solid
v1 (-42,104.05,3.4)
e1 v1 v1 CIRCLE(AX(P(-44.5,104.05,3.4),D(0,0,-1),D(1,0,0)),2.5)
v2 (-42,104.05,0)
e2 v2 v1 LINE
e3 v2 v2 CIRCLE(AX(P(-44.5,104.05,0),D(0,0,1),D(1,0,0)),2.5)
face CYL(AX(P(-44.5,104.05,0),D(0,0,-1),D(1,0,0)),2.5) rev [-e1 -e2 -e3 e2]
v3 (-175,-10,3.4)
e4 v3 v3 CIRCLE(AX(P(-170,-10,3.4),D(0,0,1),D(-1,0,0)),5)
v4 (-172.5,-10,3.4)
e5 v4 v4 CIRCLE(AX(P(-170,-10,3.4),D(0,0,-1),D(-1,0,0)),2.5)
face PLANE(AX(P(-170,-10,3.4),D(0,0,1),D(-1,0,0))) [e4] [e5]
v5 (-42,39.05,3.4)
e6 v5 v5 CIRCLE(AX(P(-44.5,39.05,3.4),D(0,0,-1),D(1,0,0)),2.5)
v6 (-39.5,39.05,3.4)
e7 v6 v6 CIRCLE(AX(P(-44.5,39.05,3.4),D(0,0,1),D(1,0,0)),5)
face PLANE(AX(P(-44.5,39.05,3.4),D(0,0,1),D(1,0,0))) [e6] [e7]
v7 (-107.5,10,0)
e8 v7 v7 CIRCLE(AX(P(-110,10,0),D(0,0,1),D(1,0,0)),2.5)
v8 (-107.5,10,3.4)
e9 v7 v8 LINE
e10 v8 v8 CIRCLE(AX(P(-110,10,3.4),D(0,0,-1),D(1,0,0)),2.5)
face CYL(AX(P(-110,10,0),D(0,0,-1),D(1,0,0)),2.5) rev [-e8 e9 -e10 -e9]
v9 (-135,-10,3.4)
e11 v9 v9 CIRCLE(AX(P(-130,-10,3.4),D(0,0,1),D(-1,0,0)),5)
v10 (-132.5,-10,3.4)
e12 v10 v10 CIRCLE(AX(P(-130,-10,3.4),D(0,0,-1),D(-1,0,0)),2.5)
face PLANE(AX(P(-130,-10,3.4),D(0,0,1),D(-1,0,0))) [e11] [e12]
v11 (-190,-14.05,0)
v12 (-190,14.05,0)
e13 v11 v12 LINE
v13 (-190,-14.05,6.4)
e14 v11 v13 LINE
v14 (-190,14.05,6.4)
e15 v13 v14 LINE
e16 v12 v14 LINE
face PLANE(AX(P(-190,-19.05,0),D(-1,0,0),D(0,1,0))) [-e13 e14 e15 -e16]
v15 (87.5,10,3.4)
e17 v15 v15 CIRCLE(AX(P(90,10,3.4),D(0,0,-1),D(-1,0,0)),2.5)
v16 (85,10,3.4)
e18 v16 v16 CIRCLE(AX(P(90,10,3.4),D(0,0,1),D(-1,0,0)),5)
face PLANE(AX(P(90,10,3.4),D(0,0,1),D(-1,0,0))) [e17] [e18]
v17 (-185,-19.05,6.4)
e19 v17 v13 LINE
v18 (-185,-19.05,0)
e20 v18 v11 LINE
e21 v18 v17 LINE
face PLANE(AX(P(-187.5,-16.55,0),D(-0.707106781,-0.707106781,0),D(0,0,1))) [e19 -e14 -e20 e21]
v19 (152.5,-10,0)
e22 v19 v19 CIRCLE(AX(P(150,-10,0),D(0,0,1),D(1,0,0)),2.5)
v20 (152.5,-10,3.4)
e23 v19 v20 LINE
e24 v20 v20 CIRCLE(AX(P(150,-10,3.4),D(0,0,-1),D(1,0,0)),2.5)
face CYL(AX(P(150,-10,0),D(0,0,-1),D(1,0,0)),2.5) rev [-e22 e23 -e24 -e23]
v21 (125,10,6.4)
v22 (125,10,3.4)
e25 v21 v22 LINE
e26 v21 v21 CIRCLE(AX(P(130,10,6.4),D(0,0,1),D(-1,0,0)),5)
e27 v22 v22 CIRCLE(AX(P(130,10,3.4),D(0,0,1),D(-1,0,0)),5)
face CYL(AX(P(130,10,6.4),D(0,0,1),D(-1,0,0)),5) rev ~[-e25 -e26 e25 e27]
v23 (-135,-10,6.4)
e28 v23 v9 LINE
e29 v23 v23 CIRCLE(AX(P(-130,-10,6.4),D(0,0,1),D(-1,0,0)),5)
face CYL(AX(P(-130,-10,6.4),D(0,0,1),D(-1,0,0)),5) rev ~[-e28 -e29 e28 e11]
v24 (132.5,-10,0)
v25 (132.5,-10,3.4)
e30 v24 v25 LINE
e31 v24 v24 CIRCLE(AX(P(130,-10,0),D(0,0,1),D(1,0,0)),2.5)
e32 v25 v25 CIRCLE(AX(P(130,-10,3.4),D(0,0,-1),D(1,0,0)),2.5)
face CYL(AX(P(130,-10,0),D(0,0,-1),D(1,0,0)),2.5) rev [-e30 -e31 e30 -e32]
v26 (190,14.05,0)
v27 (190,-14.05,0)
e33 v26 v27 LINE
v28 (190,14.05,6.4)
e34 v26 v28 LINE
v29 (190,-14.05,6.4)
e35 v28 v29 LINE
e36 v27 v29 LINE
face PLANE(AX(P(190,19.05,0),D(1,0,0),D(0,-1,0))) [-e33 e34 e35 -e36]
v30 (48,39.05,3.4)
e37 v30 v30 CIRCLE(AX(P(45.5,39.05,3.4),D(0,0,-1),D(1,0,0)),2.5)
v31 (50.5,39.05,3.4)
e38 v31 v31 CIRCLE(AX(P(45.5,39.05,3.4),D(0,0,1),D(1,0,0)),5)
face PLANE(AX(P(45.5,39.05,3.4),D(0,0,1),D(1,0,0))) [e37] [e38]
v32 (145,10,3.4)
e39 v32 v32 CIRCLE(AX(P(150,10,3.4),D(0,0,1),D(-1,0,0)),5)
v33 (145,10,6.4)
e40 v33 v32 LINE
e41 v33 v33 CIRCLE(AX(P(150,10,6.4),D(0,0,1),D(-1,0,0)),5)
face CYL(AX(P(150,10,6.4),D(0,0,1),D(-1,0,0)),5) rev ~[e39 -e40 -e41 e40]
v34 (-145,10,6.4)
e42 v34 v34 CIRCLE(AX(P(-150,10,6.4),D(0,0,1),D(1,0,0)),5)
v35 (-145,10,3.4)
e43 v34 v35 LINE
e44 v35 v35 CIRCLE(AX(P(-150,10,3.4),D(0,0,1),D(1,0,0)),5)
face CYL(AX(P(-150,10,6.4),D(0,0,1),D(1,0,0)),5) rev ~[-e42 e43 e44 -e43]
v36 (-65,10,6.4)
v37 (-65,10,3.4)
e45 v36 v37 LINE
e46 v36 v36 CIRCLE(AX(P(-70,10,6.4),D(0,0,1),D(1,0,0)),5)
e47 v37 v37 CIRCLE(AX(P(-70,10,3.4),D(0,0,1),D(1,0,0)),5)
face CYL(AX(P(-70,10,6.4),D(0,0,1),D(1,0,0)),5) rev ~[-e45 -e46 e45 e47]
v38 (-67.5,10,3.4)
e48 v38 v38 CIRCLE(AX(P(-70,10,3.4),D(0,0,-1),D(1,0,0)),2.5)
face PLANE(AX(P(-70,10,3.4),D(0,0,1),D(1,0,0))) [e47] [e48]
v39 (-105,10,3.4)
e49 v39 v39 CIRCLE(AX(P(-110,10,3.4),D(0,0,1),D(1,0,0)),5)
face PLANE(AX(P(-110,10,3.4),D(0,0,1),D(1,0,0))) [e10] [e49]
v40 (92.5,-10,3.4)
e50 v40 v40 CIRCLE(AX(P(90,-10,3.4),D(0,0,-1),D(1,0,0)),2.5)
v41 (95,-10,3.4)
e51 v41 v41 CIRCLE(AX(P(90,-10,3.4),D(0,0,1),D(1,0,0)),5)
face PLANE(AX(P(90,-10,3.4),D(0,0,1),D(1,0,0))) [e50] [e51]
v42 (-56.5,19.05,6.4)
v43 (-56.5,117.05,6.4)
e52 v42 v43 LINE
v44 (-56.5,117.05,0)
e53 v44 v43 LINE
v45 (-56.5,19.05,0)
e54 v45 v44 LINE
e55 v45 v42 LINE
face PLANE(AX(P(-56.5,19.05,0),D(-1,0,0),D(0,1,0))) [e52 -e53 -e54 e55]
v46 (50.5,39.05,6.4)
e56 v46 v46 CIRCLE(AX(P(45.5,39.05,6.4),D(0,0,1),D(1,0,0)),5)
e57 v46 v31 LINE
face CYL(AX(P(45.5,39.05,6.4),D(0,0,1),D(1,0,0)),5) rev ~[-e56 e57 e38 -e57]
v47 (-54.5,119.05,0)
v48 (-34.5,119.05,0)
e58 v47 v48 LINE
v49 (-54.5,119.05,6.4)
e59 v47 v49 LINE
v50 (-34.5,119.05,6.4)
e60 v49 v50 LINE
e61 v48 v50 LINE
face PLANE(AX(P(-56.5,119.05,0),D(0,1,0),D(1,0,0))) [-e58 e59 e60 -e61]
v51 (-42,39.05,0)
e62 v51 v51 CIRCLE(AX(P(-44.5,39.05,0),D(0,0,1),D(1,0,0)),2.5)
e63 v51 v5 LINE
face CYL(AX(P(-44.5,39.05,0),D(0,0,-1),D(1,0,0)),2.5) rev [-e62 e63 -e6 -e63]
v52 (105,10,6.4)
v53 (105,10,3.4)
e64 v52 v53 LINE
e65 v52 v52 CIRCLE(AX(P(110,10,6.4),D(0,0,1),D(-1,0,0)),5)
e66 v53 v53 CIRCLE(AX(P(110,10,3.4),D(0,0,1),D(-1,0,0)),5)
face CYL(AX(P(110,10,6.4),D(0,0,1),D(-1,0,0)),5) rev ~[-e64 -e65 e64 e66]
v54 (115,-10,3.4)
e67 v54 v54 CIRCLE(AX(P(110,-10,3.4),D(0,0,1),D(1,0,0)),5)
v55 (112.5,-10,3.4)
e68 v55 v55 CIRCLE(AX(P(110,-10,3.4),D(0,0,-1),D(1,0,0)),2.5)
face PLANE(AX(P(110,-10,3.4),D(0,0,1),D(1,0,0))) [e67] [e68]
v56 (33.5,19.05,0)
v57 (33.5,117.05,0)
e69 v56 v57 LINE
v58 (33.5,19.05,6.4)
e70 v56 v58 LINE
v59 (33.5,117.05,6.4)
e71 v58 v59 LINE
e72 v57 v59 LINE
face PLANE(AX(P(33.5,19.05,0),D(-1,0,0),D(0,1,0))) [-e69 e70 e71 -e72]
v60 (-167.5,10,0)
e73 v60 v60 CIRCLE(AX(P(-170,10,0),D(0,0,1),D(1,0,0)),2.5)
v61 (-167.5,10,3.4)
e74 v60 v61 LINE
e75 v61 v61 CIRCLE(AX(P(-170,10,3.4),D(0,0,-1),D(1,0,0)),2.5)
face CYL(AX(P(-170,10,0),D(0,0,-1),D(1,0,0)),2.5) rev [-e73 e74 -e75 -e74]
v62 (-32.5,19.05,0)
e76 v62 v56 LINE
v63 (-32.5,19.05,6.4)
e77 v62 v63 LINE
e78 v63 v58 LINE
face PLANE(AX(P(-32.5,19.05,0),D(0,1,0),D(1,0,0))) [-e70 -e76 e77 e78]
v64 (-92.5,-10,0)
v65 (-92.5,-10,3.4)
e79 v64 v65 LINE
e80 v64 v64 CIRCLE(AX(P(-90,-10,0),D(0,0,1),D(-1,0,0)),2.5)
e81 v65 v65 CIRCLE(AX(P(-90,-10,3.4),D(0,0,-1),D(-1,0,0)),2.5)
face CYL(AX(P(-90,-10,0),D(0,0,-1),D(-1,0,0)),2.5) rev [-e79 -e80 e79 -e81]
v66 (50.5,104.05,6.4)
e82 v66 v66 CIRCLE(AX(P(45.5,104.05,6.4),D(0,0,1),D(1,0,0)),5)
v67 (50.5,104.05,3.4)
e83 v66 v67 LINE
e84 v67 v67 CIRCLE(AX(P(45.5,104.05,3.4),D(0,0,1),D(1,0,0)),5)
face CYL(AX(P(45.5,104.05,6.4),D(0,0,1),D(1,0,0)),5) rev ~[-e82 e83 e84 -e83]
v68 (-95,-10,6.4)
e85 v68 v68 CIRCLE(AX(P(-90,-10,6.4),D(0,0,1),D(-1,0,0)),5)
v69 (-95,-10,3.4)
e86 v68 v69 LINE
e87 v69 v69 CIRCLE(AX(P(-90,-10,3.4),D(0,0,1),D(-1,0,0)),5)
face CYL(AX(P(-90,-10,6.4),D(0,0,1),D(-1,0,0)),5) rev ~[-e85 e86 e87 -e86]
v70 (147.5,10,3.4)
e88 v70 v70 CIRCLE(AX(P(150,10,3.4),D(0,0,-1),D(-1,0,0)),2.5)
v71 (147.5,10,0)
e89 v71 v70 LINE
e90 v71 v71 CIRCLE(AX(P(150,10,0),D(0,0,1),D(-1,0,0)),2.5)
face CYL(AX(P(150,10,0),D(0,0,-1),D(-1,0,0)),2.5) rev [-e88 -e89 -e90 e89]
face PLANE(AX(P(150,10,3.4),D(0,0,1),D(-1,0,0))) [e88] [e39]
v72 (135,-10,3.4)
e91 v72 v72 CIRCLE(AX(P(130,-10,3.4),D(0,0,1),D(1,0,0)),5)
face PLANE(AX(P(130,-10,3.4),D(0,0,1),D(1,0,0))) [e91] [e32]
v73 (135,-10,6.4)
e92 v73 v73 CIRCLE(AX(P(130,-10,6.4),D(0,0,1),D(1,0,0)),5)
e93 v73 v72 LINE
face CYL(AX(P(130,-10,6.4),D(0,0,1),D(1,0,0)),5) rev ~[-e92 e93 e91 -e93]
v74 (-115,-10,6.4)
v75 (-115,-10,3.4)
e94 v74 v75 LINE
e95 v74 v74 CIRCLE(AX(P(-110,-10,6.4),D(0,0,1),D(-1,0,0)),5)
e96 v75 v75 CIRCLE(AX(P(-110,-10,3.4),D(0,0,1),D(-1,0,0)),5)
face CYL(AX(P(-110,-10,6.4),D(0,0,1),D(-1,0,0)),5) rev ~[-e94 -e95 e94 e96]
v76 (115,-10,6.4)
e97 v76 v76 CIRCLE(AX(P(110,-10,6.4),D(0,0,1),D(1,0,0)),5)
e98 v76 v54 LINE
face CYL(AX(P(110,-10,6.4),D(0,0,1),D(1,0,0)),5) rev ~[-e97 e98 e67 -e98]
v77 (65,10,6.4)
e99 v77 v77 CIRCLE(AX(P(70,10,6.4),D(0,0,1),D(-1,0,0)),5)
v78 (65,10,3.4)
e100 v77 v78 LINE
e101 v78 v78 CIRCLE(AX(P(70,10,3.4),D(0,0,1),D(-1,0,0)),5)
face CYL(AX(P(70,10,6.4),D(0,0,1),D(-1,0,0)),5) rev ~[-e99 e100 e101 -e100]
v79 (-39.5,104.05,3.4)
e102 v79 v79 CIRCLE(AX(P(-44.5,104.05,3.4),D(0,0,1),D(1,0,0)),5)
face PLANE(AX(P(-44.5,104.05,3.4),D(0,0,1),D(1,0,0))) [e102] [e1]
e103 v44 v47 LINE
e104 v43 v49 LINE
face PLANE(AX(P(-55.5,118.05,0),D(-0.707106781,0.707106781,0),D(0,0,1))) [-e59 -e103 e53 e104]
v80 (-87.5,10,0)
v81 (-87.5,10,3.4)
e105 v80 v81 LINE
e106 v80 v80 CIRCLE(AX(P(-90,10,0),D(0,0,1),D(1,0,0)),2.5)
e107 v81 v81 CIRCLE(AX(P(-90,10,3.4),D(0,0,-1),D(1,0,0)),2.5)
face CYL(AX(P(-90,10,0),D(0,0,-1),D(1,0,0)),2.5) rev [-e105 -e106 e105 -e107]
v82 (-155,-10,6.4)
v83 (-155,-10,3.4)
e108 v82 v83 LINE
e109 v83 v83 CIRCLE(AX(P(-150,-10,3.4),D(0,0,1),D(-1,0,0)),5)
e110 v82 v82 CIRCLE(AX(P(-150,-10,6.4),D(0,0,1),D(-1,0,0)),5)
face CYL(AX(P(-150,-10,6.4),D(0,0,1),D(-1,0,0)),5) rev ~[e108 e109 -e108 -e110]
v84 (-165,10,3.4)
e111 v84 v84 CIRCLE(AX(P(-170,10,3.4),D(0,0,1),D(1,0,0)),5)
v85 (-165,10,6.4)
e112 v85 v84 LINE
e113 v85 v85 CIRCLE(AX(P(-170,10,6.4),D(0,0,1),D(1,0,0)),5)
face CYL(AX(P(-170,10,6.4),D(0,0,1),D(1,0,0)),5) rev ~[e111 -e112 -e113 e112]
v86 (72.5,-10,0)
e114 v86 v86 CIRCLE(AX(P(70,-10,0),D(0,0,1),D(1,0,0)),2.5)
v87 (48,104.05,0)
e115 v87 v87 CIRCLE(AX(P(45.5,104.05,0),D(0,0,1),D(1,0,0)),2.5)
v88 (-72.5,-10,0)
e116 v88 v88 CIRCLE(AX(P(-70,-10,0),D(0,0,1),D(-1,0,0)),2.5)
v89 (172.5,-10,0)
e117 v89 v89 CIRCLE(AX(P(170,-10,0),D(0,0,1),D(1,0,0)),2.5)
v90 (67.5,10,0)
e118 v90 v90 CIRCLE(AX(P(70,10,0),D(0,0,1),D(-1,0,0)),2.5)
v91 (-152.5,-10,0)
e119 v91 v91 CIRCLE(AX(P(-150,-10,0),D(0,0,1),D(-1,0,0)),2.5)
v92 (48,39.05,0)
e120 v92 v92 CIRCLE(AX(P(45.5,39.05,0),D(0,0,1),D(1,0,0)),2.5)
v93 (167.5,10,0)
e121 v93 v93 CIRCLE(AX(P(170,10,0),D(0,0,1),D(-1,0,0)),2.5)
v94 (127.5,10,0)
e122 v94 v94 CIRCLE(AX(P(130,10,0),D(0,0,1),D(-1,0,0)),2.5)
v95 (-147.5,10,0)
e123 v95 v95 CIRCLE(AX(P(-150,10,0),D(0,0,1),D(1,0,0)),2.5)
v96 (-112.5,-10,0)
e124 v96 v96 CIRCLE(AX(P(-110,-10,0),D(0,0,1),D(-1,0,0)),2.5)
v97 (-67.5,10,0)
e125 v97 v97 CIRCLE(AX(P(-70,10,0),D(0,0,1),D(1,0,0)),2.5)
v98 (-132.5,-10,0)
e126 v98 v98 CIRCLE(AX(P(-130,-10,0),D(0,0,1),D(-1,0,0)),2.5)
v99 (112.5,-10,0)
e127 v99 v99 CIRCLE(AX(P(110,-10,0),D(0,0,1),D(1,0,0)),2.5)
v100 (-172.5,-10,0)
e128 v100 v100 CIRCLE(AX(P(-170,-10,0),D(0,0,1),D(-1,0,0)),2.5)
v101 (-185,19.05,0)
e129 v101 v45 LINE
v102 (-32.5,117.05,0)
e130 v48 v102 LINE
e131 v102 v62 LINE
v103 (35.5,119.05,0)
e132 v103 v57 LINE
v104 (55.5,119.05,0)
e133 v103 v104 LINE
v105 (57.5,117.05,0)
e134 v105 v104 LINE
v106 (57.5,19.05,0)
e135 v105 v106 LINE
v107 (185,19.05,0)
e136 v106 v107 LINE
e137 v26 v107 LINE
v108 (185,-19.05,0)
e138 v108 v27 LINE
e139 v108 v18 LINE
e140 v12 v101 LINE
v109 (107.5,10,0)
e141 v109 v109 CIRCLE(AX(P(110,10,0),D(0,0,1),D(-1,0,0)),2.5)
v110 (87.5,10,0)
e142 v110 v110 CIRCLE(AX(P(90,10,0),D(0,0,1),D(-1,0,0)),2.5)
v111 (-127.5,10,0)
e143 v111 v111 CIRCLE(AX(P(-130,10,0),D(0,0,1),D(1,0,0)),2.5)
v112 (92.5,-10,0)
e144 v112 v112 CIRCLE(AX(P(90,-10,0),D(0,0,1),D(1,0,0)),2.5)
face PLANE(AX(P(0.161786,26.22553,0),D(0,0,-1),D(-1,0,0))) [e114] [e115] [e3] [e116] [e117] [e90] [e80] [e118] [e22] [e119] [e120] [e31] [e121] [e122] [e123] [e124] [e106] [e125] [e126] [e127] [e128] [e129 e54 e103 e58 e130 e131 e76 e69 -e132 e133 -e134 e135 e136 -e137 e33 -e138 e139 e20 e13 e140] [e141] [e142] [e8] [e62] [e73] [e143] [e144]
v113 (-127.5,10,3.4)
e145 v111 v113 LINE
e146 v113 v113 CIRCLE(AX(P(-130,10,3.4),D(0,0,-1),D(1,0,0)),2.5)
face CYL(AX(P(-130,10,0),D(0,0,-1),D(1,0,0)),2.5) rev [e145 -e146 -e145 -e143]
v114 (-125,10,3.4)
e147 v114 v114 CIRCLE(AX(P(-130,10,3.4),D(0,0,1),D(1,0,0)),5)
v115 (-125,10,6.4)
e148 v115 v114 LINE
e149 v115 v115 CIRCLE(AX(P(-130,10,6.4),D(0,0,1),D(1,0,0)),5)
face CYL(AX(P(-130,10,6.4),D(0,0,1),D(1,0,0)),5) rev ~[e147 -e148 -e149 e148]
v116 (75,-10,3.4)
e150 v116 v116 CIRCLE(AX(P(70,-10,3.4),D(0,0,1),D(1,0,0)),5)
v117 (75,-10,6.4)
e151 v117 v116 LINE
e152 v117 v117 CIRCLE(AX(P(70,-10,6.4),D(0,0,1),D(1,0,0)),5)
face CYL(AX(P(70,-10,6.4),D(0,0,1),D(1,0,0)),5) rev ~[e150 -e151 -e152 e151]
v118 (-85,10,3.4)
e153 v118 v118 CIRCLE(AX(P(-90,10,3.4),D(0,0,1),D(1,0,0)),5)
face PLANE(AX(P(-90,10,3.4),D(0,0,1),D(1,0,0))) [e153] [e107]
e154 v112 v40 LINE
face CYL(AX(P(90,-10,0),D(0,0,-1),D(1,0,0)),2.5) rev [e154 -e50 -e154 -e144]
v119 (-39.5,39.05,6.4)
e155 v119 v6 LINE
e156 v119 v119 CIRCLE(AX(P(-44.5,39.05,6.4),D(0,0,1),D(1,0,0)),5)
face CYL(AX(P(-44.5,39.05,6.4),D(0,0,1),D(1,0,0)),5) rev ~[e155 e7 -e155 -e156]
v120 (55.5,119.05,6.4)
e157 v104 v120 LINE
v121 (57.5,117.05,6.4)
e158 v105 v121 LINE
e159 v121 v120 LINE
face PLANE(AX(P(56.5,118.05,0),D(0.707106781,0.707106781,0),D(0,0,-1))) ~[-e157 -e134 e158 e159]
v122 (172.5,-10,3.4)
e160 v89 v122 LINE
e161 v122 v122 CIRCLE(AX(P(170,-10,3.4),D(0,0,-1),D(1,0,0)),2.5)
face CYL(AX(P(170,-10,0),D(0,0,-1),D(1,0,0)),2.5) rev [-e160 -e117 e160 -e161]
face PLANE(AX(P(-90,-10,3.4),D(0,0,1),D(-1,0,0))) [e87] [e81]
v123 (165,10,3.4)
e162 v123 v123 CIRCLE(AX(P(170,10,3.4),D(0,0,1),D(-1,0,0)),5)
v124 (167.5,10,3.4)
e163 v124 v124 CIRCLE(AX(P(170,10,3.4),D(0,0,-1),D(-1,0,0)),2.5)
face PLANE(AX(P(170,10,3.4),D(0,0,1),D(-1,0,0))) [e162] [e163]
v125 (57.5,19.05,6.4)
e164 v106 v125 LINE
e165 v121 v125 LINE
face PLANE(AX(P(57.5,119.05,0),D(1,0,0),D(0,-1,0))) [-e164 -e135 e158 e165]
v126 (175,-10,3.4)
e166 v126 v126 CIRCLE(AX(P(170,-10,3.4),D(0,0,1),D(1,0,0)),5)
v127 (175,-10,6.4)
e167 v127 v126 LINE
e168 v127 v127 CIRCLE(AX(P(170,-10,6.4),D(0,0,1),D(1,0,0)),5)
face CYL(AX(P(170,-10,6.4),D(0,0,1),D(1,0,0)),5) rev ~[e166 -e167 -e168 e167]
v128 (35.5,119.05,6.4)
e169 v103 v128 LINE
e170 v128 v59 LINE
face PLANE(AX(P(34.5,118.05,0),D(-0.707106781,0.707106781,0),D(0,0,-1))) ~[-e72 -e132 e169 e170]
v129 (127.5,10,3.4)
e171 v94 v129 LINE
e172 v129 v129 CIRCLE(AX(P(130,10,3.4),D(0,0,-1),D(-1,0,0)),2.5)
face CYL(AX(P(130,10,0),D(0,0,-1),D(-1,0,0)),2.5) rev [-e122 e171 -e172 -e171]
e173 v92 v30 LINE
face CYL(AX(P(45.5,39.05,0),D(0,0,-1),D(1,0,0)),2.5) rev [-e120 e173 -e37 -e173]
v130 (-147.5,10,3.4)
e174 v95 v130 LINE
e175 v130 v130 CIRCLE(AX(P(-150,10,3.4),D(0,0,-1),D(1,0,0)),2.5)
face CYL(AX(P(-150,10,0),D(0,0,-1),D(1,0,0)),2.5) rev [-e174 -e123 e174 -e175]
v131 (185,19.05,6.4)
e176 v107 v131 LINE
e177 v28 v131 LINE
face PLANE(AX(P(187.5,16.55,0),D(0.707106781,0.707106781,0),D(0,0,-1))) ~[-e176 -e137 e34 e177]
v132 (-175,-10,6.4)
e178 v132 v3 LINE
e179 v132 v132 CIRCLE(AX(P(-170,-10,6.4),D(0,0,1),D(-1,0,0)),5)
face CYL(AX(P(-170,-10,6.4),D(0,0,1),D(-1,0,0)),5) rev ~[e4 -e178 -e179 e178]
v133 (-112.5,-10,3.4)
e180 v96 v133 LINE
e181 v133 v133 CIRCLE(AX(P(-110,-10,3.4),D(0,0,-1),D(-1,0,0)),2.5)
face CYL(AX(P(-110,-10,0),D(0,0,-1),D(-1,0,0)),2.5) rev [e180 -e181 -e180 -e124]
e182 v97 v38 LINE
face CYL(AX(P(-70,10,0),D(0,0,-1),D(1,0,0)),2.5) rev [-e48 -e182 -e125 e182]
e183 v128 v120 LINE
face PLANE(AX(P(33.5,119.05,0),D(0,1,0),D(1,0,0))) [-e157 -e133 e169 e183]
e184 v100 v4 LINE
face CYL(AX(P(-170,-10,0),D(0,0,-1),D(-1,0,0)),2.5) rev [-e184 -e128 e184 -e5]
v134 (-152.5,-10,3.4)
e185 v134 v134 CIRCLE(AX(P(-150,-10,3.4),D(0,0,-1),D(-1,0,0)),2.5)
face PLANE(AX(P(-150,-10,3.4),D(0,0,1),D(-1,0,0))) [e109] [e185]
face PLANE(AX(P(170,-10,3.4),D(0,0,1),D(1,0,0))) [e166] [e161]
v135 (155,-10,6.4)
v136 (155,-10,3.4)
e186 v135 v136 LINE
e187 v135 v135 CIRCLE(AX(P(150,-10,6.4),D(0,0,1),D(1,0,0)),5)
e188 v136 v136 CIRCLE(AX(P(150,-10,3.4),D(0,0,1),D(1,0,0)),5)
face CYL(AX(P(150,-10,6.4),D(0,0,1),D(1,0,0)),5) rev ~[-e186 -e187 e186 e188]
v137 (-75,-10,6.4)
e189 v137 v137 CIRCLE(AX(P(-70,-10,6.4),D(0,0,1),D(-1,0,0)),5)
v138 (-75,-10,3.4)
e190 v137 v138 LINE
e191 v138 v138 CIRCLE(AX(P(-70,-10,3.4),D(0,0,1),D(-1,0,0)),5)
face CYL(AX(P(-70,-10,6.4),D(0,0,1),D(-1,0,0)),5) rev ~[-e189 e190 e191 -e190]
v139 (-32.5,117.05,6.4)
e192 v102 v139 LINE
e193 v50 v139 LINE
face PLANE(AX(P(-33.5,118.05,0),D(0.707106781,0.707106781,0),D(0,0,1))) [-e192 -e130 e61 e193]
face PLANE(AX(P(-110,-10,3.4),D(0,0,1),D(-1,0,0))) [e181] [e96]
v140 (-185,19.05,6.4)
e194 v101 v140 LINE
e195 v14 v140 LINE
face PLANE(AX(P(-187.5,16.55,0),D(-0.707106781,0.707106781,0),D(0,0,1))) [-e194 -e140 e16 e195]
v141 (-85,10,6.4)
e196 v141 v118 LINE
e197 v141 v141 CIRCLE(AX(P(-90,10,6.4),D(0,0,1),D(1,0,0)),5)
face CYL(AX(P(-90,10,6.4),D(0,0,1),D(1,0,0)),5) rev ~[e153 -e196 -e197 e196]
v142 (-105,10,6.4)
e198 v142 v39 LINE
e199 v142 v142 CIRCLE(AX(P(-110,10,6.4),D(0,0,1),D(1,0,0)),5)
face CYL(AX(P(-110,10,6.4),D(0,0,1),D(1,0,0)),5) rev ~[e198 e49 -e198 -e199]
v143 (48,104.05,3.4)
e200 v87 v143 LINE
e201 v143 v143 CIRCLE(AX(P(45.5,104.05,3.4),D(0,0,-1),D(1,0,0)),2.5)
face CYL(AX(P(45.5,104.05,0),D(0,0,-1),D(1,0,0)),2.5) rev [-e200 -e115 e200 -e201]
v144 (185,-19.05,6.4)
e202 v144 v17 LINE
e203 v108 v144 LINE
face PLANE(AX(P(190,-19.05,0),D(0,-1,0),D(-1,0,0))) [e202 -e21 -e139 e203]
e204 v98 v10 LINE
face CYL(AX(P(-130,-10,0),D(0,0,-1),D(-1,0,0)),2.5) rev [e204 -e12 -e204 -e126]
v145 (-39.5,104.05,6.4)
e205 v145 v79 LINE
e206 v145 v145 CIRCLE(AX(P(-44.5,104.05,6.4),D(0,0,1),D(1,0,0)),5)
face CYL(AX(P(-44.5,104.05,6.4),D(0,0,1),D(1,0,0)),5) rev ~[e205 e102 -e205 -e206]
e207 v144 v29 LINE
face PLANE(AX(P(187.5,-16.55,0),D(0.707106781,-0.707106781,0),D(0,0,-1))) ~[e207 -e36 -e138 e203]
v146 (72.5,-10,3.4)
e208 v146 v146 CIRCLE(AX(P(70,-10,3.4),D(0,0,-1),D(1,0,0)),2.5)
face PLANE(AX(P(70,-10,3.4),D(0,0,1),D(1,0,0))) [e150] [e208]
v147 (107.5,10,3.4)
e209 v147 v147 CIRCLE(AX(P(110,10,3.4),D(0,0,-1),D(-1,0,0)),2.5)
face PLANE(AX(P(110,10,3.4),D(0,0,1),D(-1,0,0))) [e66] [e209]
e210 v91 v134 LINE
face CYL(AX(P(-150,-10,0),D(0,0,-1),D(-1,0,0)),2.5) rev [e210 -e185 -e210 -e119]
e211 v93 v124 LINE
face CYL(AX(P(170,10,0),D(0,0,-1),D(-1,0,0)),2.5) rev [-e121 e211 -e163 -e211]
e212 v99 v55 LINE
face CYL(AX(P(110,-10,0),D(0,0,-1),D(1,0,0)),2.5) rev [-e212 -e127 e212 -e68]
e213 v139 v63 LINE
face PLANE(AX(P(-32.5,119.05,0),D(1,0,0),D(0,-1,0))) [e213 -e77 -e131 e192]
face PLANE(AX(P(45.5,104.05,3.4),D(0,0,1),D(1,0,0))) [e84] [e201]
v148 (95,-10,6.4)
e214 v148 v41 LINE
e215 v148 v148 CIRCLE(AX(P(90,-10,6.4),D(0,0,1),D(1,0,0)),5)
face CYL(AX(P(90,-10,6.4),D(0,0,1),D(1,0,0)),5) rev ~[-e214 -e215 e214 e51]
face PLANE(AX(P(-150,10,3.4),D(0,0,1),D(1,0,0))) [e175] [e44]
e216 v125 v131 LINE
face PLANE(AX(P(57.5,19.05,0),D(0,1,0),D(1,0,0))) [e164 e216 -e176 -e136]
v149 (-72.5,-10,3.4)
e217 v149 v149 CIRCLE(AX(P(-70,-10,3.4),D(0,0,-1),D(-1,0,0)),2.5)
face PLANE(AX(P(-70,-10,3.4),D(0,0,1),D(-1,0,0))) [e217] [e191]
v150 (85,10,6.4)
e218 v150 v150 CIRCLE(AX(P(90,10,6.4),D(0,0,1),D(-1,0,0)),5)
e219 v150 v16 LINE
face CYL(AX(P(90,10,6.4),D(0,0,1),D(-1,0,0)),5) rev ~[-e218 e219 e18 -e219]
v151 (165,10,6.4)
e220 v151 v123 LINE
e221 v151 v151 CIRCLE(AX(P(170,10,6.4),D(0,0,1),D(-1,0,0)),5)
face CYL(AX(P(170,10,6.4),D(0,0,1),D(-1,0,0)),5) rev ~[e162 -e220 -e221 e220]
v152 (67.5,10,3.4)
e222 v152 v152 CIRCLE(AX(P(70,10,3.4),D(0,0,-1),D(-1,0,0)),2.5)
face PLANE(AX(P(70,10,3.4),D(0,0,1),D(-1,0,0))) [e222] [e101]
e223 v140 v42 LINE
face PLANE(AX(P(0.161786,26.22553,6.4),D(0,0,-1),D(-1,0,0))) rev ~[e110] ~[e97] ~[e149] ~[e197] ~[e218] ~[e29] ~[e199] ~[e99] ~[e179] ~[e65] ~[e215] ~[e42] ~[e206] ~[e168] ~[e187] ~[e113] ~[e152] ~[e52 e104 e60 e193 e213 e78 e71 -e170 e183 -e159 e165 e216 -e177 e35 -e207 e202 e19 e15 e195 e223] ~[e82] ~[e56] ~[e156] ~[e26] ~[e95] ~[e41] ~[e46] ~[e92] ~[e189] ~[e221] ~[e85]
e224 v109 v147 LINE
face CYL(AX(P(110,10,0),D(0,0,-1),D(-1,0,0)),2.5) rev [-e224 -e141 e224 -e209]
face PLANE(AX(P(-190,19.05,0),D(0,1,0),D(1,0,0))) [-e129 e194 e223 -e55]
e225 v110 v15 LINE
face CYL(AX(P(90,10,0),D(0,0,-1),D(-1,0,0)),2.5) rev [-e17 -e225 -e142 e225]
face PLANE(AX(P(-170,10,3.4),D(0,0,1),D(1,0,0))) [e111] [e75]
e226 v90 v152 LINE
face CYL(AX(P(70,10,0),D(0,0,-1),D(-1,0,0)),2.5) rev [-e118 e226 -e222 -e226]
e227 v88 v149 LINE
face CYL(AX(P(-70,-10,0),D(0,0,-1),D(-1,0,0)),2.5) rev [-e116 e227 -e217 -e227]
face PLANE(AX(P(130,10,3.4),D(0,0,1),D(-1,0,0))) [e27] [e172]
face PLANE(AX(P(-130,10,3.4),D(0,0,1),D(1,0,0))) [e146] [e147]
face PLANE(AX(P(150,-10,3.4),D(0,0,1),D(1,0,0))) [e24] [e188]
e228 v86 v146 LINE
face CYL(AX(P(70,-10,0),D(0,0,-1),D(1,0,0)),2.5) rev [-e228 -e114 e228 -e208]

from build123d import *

# Parameters (mm, degrees)
SKETCH1_R           = 2.5
BOSS_EXTRUDE1_DEPTH = 6.4
SKETCH2_R           = 5
CUT_EXTRUDE1_DEPTH  = 3
CHAMFER1_SIZE       = 5
CHAMFER2_SIZE       = 2


with BuildPart() as part:
    # Sketch1 → Boss-Extrude1 (new body)
    with BuildSketch(Plane.XY):
        Polygon((190, -19.05), (-190, -19.05), (-190, 19.05), (-56.5, 19.05), (-56.5, 119.05), (-32.5, 119.05), (-32.5, 19.05), (33.5, 19.05), (33.5, 119.05), (57.5, 119.05), (57.5, 19.05), (190, 19.05), align=None)
        with Locations((-70, 10)):
            Circle(SKETCH1_R, mode=Mode.SUBTRACT)
        with Locations((-90, 10)):
            Circle(SKETCH1_R, mode=Mode.SUBTRACT)
        with Locations((-110, 10)):
            Circle(SKETCH1_R, mode=Mode.SUBTRACT)
        with Locations((-130, 10)):
            Circle(SKETCH1_R, mode=Mode.SUBTRACT)
        with Locations((-150, 10)):
            Circle(SKETCH1_R, mode=Mode.SUBTRACT)
        with Locations((-170, 10)):
            Circle(SKETCH1_R, mode=Mode.SUBTRACT)
        with Locations(Location((-70, -10, 0), (0, 0, 180))):
            Circle(SKETCH1_R, mode=Mode.SUBTRACT)
        with Locations(Location((-90, -10, 0), (0, 0, 180))):
            Circle(SKETCH1_R, mode=Mode.SUBTRACT)
        with Locations(Location((-110, -10, 0), (0, 0, 180))):
            Circle(SKETCH1_R, mode=Mode.SUBTRACT)
        with Locations(Location((-130, -10, 0), (0, 0, 180))):
            Circle(SKETCH1_R, mode=Mode.SUBTRACT)
        with Locations(Location((-150, -10, 0), (0, 0, 180))):
            Circle(SKETCH1_R, mode=Mode.SUBTRACT)
        with Locations(Location((-170, -10, 0), (0, 0, 180))):
            Circle(SKETCH1_R, mode=Mode.SUBTRACT)
        with Locations((170, -10)):
            Circle(SKETCH1_R, mode=Mode.SUBTRACT)
        with Locations((150, -10)):
            Circle(SKETCH1_R, mode=Mode.SUBTRACT)
        with Locations((130, -10)):
            Circle(SKETCH1_R, mode=Mode.SUBTRACT)
        with Locations((110, -10)):
            Circle(SKETCH1_R, mode=Mode.SUBTRACT)
        with Locations((90, -10)):
            Circle(SKETCH1_R, mode=Mode.SUBTRACT)
        with Locations((70, -10)):
            Circle(SKETCH1_R, mode=Mode.SUBTRACT)
        with Locations(Location((70, 10, 0), (0, 0, 180))):
            Circle(SKETCH1_R, mode=Mode.SUBTRACT)
        with Locations(Location((90, 10, 0), (0, 0, 180))):
            Circle(SKETCH1_R, mode=Mode.SUBTRACT)
        with Locations(Location((110, 10, 0), (0, 0, 180))):
            Circle(SKETCH1_R, mode=Mode.SUBTRACT)
        with Locations(Location((130, 10, 0), (0, 0, 180))):
            Circle(SKETCH1_R, mode=Mode.SUBTRACT)
        with Locations(Location((150, 10, 0), (0, 0, 180))):
            Circle(SKETCH1_R, mode=Mode.SUBTRACT)
        with Locations(Location((170, 10, 0), (0, 0, 180))):
            Circle(SKETCH1_R, mode=Mode.SUBTRACT)
        with Locations((-44.5, 39.05)):
            Circle(SKETCH1_R, mode=Mode.SUBTRACT)
        with Locations((-44.5, 104.05)):
            Circle(SKETCH1_R, mode=Mode.SUBTRACT)
        with Locations((45.5, 104.05)):
            Circle(SKETCH1_R, mode=Mode.SUBTRACT)
        with Locations((45.5, 39.05)):
            Circle(SKETCH1_R, mode=Mode.SUBTRACT)
    extrude(amount=BOSS_EXTRUDE1_DEPTH)

    # Sketch2 → Cut-Extrude1 (cut)
    with BuildSketch(Plane.XY.offset(6.4)):
        with Locations((-170, 10)):
            Circle(SKETCH2_R)
        with Locations((-150, 10)):
            Circle(SKETCH2_R)
        with Locations((-130, 10)):
            Circle(SKETCH2_R)
        with Locations((-110, 10)):
            Circle(SKETCH2_R)
        with Locations((-90, 10)):
            Circle(SKETCH2_R)
        with Locations((-70, 10)):
            Circle(SKETCH2_R)
        with Locations(Location((-70, -10, 0), (0, 0, 180))):
            Circle(SKETCH2_R)
        with Locations(Location((-90, -10, 0), (0, 0, 180))):
            Circle(SKETCH2_R)
        with Locations(Location((-110, -10, 0), (0, 0, 180))):
            Circle(SKETCH2_R)
        with Locations(Location((-130, -10, 0), (0, 0, 180))):
            Circle(SKETCH2_R)
        with Locations(Location((-150, -10, 0), (0, 0, 180))):
            Circle(SKETCH2_R)
        with Locations(Location((-170, -10, 0), (0, 0, 180))):
            Circle(SKETCH2_R)
        with Locations((170, -10)):
            Circle(SKETCH2_R)
        with Locations((150, -10)):
            Circle(SKETCH2_R)
        with Locations((130, -10)):
            Circle(SKETCH2_R)
        with Locations((110, -10)):
            Circle(SKETCH2_R)
        with Locations((90, -10)):
            Circle(SKETCH2_R)
        with Locations((70, -10)):
            Circle(SKETCH2_R)
        with Locations(Location((70, 10, 0), (0, 0, 180))):
            Circle(SKETCH2_R)
        with Locations(Location((90, 10, 0), (0, 0, 180))):
            Circle(SKETCH2_R)
        with Locations(Location((110, 10, 0), (0, 0, 180))):
            Circle(SKETCH2_R)
        with Locations(Location((130, 10, 0), (0, 0, 180))):
            Circle(SKETCH2_R)
        with Locations(Location((150, 10, 0), (0, 0, 180))):
            Circle(SKETCH2_R)
        with Locations(Location((170, 10, 0), (0, 0, 180))):
            Circle(SKETCH2_R)
        with Locations((-44.5, 104.05)):
            Circle(SKETCH2_R)
        with Locations((-44.5, 39.05)):
            Circle(SKETCH2_R)
        with Locations((45.5, 39.05)):
            Circle(SKETCH2_R)
        with Locations((45.5, 104.05)):
            Circle(SKETCH2_R)
    extrude(amount=-CUT_EXTRUDE1_DEPTH, mode=Mode.SUBTRACT)

    # Chamfer1
    chamfer1_edges = [part.edges().sort_by_distance(p)[0] for p in [
        (190, 19.05, 3.2),
        (190, -19.05, 3.2),
        (-190, -19.05, 3.2),
        (-190, 19.05, 3.2),
    ]]
    chamfer(chamfer1_edges, length=CHAMFER1_SIZE)

    # Chamfer2
    chamfer2_edges = [part.edges().sort_by_distance(p)[0] for p in [
        (-56.5, 119.05, 3.2),
        (-32.5, 119.05, 3.2),
        (33.5, 119.05, 3.2),
        (57.5, 119.05, 3.2),
    ]]
    chamfer(chamfer2_edges, length=CHAMFER2_SIZE)


solid = part.part
